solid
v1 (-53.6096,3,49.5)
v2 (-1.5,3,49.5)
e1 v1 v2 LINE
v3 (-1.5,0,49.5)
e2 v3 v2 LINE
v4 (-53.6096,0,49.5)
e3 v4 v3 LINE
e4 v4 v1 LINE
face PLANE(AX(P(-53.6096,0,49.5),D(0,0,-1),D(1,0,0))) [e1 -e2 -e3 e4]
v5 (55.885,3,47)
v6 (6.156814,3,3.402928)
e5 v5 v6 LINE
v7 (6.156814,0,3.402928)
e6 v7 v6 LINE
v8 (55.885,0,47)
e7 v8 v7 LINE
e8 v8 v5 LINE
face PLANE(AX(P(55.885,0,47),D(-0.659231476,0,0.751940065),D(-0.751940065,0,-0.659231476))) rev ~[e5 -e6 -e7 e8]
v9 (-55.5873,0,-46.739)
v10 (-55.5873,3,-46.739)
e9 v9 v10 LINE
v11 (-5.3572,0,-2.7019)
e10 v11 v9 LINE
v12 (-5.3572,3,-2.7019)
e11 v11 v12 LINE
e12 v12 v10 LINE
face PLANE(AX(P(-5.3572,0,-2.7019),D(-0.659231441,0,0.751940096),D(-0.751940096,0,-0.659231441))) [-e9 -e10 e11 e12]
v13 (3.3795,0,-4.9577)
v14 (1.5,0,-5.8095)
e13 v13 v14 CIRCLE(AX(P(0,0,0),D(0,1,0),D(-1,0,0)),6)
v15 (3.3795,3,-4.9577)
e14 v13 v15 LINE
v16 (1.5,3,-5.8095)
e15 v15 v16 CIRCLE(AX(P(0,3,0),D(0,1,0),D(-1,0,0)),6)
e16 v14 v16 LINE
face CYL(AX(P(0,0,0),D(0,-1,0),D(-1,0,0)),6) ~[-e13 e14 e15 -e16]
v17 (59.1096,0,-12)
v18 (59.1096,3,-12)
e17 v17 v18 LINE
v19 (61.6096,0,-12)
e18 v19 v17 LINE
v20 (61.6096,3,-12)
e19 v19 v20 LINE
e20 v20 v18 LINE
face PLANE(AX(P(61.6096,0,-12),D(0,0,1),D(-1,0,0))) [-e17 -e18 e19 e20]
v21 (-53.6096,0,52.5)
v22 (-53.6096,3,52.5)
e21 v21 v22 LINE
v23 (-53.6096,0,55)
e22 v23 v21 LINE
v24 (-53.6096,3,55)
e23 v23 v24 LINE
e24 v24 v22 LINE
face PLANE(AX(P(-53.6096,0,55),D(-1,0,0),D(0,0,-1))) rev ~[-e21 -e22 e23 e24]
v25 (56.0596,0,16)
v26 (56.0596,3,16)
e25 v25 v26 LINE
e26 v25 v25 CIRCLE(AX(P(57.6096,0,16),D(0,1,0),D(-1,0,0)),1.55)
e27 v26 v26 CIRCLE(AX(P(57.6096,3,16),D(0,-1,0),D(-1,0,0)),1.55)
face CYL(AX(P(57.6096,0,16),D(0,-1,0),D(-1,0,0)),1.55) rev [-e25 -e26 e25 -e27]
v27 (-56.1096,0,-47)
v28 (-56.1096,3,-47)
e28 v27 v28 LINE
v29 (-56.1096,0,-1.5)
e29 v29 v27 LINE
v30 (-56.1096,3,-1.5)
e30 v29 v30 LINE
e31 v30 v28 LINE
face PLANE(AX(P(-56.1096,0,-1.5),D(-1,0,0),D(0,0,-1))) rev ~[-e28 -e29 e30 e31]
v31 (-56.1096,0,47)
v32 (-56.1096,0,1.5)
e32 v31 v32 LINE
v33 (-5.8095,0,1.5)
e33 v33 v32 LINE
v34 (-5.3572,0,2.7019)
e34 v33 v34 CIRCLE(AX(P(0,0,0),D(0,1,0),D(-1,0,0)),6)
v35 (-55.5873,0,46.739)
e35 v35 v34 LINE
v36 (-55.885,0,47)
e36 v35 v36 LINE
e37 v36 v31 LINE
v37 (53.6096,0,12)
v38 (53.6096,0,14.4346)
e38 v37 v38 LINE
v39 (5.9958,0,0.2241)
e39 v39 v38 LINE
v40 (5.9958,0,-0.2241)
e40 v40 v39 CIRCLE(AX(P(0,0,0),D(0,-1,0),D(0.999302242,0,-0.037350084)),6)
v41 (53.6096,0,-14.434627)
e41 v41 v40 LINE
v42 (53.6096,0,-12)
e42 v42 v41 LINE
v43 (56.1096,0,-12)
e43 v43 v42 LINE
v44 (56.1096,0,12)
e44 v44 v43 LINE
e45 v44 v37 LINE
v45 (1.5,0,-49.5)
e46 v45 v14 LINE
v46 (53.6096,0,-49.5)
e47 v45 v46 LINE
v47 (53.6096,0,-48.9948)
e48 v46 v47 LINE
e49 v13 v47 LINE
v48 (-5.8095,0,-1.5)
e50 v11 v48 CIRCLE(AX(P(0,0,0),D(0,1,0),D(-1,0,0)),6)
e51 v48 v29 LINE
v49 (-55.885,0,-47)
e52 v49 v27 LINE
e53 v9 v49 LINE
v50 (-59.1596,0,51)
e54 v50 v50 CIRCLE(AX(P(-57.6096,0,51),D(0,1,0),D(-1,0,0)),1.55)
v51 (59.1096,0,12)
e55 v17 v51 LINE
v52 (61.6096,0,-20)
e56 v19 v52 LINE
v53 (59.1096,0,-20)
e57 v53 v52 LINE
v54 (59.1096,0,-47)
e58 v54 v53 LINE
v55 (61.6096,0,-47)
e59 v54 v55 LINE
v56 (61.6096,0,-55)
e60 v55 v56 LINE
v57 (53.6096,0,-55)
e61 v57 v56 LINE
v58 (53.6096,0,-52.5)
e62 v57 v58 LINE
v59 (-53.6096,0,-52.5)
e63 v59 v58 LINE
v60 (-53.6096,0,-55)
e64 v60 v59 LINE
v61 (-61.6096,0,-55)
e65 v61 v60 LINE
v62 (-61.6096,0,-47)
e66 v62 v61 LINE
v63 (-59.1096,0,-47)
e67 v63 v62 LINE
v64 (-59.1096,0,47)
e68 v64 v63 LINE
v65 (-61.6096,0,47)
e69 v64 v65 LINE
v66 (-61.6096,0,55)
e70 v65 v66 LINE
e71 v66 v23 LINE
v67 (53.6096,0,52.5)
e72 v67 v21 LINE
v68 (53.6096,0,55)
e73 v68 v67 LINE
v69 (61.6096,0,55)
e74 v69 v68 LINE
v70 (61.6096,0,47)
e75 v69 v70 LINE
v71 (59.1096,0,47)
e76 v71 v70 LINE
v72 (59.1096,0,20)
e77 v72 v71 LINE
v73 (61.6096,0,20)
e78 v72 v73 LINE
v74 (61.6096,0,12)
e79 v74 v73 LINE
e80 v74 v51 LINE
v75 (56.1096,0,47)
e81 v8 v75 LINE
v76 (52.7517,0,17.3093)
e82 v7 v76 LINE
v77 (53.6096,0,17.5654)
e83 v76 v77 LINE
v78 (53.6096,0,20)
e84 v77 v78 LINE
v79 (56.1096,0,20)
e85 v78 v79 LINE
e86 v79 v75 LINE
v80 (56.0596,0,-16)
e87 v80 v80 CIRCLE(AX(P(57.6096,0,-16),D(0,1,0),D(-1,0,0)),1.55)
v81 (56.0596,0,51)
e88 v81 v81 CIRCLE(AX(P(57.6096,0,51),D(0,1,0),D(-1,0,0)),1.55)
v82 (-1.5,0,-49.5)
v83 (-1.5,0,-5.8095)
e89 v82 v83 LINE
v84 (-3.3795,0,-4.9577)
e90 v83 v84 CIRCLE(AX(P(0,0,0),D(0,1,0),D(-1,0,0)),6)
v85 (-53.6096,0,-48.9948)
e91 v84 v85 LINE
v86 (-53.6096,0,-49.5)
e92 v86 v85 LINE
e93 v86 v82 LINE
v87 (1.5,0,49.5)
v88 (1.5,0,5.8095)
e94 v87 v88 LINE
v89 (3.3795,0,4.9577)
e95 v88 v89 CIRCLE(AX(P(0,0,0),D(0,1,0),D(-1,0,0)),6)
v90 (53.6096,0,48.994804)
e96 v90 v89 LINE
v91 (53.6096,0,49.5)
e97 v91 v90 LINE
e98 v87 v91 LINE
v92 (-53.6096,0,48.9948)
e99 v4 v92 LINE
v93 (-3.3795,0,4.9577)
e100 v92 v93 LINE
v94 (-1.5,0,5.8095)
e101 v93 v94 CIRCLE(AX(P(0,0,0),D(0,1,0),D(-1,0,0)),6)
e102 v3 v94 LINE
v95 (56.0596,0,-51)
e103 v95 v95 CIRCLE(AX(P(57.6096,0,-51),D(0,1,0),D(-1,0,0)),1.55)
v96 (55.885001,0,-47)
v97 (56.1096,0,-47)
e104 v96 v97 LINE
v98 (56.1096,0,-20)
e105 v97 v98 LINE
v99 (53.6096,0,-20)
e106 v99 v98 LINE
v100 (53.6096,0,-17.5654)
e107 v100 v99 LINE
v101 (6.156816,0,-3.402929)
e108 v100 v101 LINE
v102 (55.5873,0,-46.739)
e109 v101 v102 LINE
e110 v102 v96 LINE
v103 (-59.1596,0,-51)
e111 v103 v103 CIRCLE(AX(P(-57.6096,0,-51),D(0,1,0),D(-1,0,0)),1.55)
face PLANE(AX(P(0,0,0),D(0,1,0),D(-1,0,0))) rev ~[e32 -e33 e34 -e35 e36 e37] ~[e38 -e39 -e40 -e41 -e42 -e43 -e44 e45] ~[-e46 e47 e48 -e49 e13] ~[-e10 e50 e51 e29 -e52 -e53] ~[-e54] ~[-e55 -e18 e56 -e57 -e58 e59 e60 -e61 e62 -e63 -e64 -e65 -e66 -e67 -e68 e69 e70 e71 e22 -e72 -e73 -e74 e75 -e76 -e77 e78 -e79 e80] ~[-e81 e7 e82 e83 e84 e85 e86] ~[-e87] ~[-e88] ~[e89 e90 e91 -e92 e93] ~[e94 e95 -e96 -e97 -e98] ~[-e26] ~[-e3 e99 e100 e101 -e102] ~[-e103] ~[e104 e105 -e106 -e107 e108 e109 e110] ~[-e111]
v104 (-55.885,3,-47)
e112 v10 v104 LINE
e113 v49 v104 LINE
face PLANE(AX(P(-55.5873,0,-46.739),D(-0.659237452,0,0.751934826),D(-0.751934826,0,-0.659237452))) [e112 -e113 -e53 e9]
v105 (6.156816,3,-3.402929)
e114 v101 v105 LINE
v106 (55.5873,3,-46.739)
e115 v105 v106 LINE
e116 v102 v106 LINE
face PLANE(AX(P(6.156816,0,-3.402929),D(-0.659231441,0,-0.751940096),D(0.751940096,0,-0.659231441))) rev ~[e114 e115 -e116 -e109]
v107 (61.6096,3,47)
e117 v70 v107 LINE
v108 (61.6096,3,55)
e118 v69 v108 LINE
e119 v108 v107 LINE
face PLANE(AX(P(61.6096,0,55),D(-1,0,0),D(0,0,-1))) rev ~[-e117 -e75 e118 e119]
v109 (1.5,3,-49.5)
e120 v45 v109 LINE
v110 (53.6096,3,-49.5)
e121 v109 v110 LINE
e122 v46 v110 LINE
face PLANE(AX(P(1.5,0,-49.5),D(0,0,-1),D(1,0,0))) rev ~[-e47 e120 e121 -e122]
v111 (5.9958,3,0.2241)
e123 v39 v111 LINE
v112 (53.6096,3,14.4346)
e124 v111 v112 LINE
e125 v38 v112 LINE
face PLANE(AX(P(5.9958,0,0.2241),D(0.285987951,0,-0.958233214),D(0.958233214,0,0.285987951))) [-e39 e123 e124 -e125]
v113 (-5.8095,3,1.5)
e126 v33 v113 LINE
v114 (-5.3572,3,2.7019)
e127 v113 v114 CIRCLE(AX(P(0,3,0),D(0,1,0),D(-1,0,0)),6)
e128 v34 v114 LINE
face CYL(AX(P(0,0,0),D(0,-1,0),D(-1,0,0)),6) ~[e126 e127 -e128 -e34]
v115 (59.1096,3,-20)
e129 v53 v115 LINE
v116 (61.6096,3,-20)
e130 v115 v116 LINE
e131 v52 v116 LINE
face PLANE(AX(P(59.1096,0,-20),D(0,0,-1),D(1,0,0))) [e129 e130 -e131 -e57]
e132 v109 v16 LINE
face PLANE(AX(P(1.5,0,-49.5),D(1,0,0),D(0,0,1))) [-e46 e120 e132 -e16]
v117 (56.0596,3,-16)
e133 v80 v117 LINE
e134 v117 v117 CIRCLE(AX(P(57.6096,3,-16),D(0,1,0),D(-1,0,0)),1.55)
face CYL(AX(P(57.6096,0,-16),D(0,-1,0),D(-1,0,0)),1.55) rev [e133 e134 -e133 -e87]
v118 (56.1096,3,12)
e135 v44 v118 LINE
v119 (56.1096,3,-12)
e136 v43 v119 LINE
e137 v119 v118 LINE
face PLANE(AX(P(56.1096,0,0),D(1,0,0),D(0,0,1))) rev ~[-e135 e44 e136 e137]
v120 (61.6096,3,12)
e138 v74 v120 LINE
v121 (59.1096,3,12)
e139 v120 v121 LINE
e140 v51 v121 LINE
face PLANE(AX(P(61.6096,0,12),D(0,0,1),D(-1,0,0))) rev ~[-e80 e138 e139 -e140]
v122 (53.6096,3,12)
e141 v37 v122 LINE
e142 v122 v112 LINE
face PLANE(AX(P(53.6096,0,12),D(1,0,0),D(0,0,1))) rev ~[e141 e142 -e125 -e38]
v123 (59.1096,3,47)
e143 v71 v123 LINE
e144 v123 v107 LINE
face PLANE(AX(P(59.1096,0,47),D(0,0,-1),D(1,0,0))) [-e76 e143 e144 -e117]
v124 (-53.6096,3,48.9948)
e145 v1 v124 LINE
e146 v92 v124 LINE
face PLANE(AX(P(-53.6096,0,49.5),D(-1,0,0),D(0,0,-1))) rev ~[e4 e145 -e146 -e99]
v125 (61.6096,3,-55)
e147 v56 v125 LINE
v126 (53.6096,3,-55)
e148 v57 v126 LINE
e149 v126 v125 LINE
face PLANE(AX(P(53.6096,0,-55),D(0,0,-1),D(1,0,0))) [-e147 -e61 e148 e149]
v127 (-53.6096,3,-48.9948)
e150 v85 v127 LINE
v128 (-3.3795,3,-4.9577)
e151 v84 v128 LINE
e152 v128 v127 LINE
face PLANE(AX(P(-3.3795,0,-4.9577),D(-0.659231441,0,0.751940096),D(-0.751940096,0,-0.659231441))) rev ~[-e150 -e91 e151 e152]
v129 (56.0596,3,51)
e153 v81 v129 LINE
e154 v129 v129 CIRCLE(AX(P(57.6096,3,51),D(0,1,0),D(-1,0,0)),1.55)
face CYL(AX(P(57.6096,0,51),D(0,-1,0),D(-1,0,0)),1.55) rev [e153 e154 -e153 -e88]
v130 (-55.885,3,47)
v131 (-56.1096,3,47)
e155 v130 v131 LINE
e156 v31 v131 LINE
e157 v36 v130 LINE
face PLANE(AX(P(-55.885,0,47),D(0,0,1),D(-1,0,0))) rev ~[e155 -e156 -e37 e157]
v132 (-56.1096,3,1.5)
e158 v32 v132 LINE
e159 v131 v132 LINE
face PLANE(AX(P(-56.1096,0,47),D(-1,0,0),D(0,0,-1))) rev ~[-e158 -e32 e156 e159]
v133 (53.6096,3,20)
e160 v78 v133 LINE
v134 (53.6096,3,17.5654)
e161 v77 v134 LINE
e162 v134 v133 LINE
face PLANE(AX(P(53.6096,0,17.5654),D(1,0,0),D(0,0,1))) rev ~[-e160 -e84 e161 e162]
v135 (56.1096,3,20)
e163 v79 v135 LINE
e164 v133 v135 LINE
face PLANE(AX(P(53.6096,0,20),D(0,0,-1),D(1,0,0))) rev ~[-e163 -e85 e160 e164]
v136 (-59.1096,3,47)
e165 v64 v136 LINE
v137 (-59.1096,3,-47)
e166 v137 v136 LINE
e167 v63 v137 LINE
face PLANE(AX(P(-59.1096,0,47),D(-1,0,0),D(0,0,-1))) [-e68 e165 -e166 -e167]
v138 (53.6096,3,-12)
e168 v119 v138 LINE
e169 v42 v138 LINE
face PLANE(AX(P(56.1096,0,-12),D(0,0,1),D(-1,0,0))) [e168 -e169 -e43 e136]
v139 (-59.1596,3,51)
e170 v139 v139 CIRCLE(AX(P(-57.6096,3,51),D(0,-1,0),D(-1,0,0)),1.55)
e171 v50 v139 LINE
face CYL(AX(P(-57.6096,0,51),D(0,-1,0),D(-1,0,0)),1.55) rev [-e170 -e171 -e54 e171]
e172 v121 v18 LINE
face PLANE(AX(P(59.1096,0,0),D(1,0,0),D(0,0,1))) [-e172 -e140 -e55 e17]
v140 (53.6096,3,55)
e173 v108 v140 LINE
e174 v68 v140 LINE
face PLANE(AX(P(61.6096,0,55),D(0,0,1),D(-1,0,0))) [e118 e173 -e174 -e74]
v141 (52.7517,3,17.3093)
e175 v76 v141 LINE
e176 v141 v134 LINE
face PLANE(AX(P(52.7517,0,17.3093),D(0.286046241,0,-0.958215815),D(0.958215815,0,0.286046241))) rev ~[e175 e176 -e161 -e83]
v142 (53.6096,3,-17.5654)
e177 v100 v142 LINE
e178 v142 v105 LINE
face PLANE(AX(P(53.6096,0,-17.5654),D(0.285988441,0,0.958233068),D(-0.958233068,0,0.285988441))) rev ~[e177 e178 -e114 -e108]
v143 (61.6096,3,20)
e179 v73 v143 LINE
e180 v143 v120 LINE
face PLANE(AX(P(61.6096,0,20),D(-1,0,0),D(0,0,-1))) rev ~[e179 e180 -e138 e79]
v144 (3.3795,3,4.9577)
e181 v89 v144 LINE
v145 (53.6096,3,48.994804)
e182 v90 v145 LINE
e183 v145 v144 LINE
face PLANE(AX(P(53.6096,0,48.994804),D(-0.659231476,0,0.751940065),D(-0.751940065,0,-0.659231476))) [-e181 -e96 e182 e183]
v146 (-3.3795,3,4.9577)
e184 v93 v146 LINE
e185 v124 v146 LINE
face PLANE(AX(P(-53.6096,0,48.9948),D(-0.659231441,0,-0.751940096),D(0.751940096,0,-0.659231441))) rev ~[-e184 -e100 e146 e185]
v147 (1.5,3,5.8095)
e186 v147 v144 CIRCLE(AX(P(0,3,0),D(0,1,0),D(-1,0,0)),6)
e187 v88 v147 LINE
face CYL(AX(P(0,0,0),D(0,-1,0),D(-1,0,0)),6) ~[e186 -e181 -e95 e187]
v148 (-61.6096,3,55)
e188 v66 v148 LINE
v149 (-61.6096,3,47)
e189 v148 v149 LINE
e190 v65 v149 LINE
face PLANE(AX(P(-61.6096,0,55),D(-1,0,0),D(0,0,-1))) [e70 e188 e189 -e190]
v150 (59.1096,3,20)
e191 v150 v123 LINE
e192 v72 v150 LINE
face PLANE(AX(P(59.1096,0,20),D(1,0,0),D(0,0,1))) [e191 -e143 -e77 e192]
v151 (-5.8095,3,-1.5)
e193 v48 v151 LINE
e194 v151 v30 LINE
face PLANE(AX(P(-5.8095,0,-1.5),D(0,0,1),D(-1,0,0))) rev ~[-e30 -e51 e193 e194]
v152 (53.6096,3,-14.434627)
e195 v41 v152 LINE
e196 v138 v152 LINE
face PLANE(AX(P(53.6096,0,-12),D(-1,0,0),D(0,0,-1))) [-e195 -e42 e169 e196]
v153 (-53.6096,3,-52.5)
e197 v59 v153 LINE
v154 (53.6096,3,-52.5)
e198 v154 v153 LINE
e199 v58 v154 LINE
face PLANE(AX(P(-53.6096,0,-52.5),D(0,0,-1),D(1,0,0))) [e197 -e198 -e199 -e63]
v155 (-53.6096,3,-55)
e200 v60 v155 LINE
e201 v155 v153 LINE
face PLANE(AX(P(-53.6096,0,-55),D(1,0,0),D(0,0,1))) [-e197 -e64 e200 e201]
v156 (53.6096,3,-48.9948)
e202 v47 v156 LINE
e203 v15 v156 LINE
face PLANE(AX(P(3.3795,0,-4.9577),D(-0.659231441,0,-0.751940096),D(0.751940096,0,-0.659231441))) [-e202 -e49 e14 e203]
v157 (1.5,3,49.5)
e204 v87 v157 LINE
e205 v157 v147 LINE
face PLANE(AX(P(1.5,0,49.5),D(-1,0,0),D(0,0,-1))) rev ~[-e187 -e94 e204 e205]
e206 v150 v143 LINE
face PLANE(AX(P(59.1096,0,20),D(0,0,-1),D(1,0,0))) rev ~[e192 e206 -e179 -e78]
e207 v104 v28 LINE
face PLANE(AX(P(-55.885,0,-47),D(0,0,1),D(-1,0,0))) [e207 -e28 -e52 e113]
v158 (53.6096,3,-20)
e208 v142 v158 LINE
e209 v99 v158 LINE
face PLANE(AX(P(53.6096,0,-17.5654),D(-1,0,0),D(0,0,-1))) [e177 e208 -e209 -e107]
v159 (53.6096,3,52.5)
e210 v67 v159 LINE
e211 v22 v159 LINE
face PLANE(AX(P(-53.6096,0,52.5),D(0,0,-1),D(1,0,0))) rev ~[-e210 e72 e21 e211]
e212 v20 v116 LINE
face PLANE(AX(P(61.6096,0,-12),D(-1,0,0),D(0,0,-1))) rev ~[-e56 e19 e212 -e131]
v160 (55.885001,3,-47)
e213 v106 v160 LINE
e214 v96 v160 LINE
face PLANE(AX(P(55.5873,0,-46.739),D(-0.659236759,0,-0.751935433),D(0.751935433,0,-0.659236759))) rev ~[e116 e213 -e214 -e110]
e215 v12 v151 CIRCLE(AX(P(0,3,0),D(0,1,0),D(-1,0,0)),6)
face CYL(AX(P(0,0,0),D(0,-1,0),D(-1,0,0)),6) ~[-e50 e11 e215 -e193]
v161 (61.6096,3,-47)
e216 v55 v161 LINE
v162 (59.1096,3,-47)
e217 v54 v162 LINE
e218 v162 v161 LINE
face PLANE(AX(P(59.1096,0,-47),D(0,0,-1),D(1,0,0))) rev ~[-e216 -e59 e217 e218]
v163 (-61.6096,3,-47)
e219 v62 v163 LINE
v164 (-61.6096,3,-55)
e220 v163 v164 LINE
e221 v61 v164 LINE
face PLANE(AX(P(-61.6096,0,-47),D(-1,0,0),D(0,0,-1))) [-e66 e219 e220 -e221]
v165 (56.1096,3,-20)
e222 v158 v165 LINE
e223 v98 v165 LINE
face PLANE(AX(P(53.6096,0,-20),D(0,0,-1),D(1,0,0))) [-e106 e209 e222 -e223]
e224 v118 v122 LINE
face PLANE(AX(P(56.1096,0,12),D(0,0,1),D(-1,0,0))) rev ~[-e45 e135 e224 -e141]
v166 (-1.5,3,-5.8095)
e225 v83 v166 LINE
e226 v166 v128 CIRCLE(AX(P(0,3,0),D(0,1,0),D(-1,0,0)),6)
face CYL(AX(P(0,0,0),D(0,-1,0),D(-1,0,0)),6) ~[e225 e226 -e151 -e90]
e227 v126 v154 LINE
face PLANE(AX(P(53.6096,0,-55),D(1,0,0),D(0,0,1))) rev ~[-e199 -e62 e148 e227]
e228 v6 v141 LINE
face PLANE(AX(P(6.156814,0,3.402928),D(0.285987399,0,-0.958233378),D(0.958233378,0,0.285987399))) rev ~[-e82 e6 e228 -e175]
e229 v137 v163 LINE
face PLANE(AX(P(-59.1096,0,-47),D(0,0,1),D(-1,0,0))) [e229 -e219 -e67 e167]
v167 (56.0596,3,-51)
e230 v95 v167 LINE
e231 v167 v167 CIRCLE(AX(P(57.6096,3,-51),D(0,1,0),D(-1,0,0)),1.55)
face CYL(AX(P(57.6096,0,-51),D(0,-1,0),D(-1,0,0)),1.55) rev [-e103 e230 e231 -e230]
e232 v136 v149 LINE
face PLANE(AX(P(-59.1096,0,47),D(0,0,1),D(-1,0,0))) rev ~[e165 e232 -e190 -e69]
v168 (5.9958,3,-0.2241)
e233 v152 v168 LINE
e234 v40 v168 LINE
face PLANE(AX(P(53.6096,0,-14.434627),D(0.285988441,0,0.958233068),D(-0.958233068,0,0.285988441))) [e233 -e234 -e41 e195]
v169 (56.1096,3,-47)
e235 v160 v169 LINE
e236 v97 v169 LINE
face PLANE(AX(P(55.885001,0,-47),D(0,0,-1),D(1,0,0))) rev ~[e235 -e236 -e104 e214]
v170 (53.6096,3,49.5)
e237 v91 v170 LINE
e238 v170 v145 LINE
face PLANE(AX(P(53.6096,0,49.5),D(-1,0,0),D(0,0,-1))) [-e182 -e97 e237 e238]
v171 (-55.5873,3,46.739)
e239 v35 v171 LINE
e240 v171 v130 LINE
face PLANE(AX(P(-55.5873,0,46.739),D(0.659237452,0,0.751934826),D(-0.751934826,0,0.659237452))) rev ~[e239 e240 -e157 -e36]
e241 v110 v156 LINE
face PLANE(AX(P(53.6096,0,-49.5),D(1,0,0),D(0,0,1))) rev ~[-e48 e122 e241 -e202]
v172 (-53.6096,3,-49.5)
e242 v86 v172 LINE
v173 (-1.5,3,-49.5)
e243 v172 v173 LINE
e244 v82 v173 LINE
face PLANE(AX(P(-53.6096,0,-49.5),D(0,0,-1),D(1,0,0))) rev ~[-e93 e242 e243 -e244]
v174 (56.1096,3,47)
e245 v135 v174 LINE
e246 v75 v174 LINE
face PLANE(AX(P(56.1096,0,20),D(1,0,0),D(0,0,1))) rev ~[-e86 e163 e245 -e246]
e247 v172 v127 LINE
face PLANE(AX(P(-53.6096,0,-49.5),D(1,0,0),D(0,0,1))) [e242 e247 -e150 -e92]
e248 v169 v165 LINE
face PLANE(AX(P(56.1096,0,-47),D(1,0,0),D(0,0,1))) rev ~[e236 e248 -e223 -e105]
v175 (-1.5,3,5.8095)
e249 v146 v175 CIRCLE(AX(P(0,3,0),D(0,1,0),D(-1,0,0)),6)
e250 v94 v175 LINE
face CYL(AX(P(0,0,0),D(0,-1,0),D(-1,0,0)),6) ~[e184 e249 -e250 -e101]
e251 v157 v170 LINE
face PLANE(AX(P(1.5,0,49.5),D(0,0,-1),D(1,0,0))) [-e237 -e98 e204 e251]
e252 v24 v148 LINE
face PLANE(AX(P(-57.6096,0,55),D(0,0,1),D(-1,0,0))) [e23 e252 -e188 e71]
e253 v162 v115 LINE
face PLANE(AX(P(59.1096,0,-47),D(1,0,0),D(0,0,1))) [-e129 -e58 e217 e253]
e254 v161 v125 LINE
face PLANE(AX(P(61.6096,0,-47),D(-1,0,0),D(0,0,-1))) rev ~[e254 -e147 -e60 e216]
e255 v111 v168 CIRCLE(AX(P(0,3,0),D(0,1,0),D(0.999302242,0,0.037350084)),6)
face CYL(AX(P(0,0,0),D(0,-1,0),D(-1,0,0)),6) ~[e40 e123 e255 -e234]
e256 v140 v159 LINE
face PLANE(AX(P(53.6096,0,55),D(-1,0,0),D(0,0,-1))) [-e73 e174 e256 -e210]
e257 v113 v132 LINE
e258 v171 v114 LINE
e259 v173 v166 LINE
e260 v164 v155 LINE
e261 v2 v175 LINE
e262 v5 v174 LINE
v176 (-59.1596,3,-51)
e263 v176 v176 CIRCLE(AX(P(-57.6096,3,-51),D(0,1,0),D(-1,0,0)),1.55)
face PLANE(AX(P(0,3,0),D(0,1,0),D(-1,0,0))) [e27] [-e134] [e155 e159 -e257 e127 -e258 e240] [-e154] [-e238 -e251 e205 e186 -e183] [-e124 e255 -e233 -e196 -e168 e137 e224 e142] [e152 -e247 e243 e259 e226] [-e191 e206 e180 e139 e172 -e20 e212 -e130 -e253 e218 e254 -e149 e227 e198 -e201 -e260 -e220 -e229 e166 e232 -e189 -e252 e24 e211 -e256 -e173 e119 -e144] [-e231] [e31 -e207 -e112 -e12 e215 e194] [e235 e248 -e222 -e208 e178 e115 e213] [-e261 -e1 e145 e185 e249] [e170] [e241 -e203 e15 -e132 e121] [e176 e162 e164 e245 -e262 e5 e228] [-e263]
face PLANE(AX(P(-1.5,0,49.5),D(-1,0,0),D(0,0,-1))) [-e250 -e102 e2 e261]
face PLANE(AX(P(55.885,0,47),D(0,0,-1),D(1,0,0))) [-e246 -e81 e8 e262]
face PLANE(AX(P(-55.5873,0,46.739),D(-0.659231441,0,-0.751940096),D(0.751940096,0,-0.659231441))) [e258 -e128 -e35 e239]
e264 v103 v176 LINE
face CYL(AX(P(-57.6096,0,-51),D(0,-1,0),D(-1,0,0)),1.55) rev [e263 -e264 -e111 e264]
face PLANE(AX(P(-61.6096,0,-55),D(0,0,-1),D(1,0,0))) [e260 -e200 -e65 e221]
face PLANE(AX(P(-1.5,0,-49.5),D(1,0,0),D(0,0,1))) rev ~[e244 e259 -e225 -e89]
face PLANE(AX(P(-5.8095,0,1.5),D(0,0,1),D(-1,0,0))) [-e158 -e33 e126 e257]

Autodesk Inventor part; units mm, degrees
ref_plane "YZ Plane" through (0, 0, 0) normal (1, 0, 0) x (0, 1, 0)
ref_plane "XZ Plane" through (0, 0, 0) normal (0, 1, 0) x (-1, 0, 0)
ref_plane "XY Plane" through (0, 0, 0) normal (0, 0, 1) x (1, 0, 0)
sketch "Sketch1" plane through (0, 0, 0) normal (0, 1, 0) x (-1, 0, 0)
  line L0 (75, 59) -> (-75, 59)
  line L1 (-75, 59) -> (-75, -59)
  line L2 (-75, -59) -> (75, -59)
  line L3 (75, -59) -> (75, 59)
  line L4 (75, 59) -> (-75, -59) construction
  line L5 (-75, 59) -> (75, -59) construction
  line L6 (62.0096, 59) -> (62.0096, -65)
  line L7 (105, 0) -> (-105, 0) projected
  line L8 (0, -90) -> (0, 85) projected
  line L9 (-62.0096, 59) -> (-62.0096, -65)
  line L10 (61.6096, 59) -> (61.6096, -59)
  line L11 (-61.6096, 59) -> (-61.6096, -59)
  line L12 (-71, 55) -> (71, 55)
  line L13 (71, 55) -> (71, -55)
  line L14 (71, -55) -> (-71, -55)
  line L15 (-71, -55) -> (-71, 55)
  line L16 (61.6096, 55) -> (53.6096, 55)
  line L17 (53.6096, 55) -> (53.6096, 47)
  line L18 (53.6096, 47) -> (61.6096, 47)
  line L19 (61.6096, 47) -> (61.6096, 55)
  line L20 (61.6096, -55) -> (53.6096, -55)
  line L21 (53.6096, -55) -> (53.6096, -47)
  line L22 (53.6096, -47) -> (61.6096, -47)
  line L23 (-61.6096, 55) -> (-53.6096, 55)
  line L24 (-53.6096, 55) -> (-53.6096, 47)
  line L25 (-53.6096, 47) -> (-61.6096, 47)
  line L26 (-61.6096, 47) -> (-61.6096, 55)
  line L27 (-53.6096, -55) -> (-53.6096, -47)
  line L28 (-53.6096, -47) -> (-61.6096, -47)
  line L29 (-61.6096, -55) -> (-53.6096, -55)
  line L30 (-61.6096, 12) -> (-53.6096, 12)
  line L31 (-53.6096, 12) -> (-53.6096, 20)
  line L32 (-53.6096, 20) -> (-61.6096, 20)
  line L33 (-61.6096, 20) -> (-61.6096, 12)
  line L34 (-61.6096, -12) -> (-53.6096, -12)
  line L35 (-53.6096, -12) -> (-53.6096, -20)
  line L36 (-53.6096, -20) -> (-61.6096, -20)
  circle A0 centre (57.6096, 51) radius 1.55
  line L37 (61.6096, 51) -> (53.6096, 51)
  line L38 (57.6096, 55) -> (57.6096, 47)
  circle A1 centre (57.6096, -51) radius 1.55
  circle A2 centre (-57.6096, 51) radius 1.55
  circle A3 centre (-57.6096, -51) radius 1.55
  line L39 (-53.6096, 16) -> (-61.6096, 16)
  line L40 (-57.6096, 20) -> (-57.6096, 12)
  circle A4 centre (-57.6096, 16) radius 1.55
  circle A5 centre (-57.6096, -16) radius 1.55
  line L41 (53.6096, 51) -> (-53.6096, 51)
  line L42 (57.6096, 47) -> (57.6096, -47)
  line L43 (53.6096, -51) -> (-53.6096, -51)
  line L44 (-57.6096, -47) -> (-57.6096, -20)
  line L45 (-57.6096, -12) -> (-57.6096, 12)
  line L46 (-57.6096, 20) -> (-57.6096, 47)
  line L47 (53.6096, 47) -> (-53.6096, -47)
  line L48 (-53.6096, 47) -> (53.6096, -47)
  line L49 (0, 0) -> (57.6096, 0)
  line L50 (0, 0) -> (-57.6096, 0)
  line L51 (0, 0) -> (-53.6096, 16)
  line L52 (0, 0) -> (-53.6096, -16)
  circle A6 centre (0, 0) radius 6
  line L53 (53.6096, 48.9948) -> (3.3795, 4.9577)
  line L54 (53.6096, 52.5) -> (-53.6096, 52.5)
  line L55 (59.1096, 47) -> (59.1096, -47)
  line L56 (53.6096, -52.5) -> (-53.6096, -52.5)
  line L57 (-59.1096, -47) -> (-59.1096, -20)
  line L58 (-59.1096, -12) -> (-59.1096, 12)
  line L59 (-59.1096, 20) -> (-59.1096, 47)
  line L60 (-55.885, 47) -> (-5.3572, 2.7019)
  line L61 (-5.9958, 0.2241) -> (-53.6096, 14.4346)
  line L62 (-53.6096, -17.5654) -> (-5.1378, -3.0988)
  line L63 (-3.3795, -4.9577) -> (-53.6096, -48.9948)
  line L64 (5.8095, -1.5) -> (57.6096, -1.5)
  line L65 (56.1096, 47) -> (56.1096, -47)
  line L66 (53.6096, 49.5) -> (-53.6096, 49.5)
  line L67 (55.5873, 46.739) -> (5.3572, 2.7019)
  line L68 (5.8095, 1.5) -> (57.6096, 1.5)
  line L69 (-53.9073, 49.2558) -> (-3.3795, 4.9577)
  line L70 (-5.1378, 3.0988) -> (-52.7517, 17.3093)
  line L71 (-5.3572, -2.7019) -> (-55.5873, -46.739)
  line L72 (53.6096, -49.5) -> (-53.6096, -49.5)
  line L73 (-56.1096, -47) -> (-56.1096, -20)
  line L74 (-56.1096, -12) -> (-56.1096, 12)
  line L75 (-56.1096, 20) -> (-56.1096, 47)
  line L76 (-54.4676, -14.6907) -> (-5.9958, -0.2241)
  line L77 (3.3795, -4.9577) -> (53.6096, -48.9948)
  line L78 (5.3572, -2.7019) -> (55.5873, -46.739)
  line L79 (1.5, 49.5) -> (1.5, 5.8095)
  line L80 (-1.5, 49.5) -> (-1.5, 5.8095)
  line L81 (1.5, -49.5) -> (1.5, -5.8095)
  line L82 (-1.5, -49.5) -> (-1.5, -5.8095)
  line L83 (-52.7517, 17.3093) -> (-53.6096, 17.5654)
  line L84 (55.5873, -46.739) -> (55.885, -47)
  line L85 (55.5873, 46.739) -> (55.885, 47)
  line L86 (-55.5873, -46.739) -> (-58.8433, -49.5936)
  point P0 (-53.6096, 55)
  point P1 (-61.6096, 55)
  point P2 (-61.6096, 47)
  point P3 (-61.6096, 0)
  point P4 (-71, 0)
  point P5 (53.6096, 55)
  point P6 (4.5116, -3.9554)
  point P7 (56.1096, -1.5)
  point P8 (-4.5116, -3.9554)
  point P9 (-56.1096, -20)
  point P10 (1.5, -49.5)
  point P11 (1.5, -5.8095)
  point P12 (-1.5, -5.8095)
  point P13 (-1.5, -49.5)
  point P14 (-1.5, 5.8095)
  point P15 (-3.3795, 4.9577)
  point P16 (-53.6096, 48.9948)
  point P17 (-1.5, 49.5)
  point P18 (56.1096, 1.5)
  point P19 (4.5116, 3.9554)
  point P20 (-53.6096, -14.4346)
  point P21 (-5.7494, 1.7159)
  point P22 (-61.6096, -47)
  point P23 (-61.6096, -55)
  point P24 (-53.6096, -55)
  point P25 (53.6096, -55)
  point P26 (61.6096, -55)
  point P27 (61.6096, -47)
  point P28 (61.6096, 47)
  point P29 (5.3572, -2.7019)
  point P30 (-55.885, -47)
  point P31 (-6.1568, -3.4029)
  point P32 (5.3572, 2.7019)
  point P33 (-6.1568, 3.4029)
  dimension "d13" = 12
  dimension "d0" = 150
  dimension "d1" = 118
  dimension "d2" = 12.9904
  dimension "d3" = 0.4
  dimension "d4" = 4
  dimension "d5" = 8
  dimension "d6" = 8
  dimension "d7" = 8
  dimension "d8" = 8
  dimension "d9" = 12
  dimension "d10" = 3.1
  dimension "d11" = 3.1
  dimension "d14" = 3
  dimension "d15" = 3
  dimension "d16" = 3
  dimension "d17" = 3
  dimension "d18" = 3
  dimension "d19" = 3
  dimension "d20" = 3
  dimension "d21" = 3
  dimension "d22" = 3
  dimension "d23" = 3
  dimension "d24" = 3
  dimension "d25" = 3
extrude "Extrusion1" add sketch "Sketch1" along normal blind 3 contours L10 L37 A0 L38 L12 | L10 L18 L38 A0 L37 | L38 A0 L37 L17 L12 | L12 L24 L25 L11 | L54 L17 L41 L8 | L8 L41 L24 L54 | L14 L21 L22 L10 | L55 L22 L42 L7 | L7 L42 L18 L55 | L41 L17 L66 L8 | L8 L66 L24 L41 | L38 L18 L17 L37 A0 | L42 L64 L65 L7 | L7 L65 L68 L42 | L32 L40 A4 L39 L11 | L25 L46 L32 L59 | L66 L79 A6 L8 | L8 A6 L80 L66 | L42 L68 L65 L18 | L56 L8 L43 L21 | L65 L64 A6 L7 | L7 A6 L68 L65 | L42 L22 L65 L64 | L11 L28 L27 L14 | L56 L27 L43 L8 | L39 A4 L40 L30 L11 | L25 L75 L32 L46 | A6 L47 L8 | L8 L48 A6 | L43 L8 L72 L21 | A6 L48 L7 | L7 L47 A6 | L43 L27 L72 L8 | L58 L30 L45 L7 | L7 L45 L34 L58 | L34 L35 L36 L11 | L32 L31 L39 A4 L40 | L52 A6 L7 | L48 A6 L8 | L8 A6 L47 | L51 A6 L48 | L7 A6 L51 | L47 A6 L52 | L17 L47 A6 L53 | L69 A6 L48 L24 | L85 L67 A6 L47 L18 | L22 L48 A6 L78 L84 | L57 L36 L44 L28 | L72 L82 A6 L8 | L8 A6 L81 L72 | L45 L30 L74 L7 | L7 L74 L34 L45 | A4 L39 L31 L30 L40 | L25 L48 A6 L70 L60 | A6 L63 L27 L47 | L47 L28 L86 L71 L62 A6 | L48 L21 L77 A6 | A6 L61 L31 L51 | L51 L31 L83 L70 L60 A6 | A6 L71 L62 L35 L52 | L52 L35 L76 A6 | L44 L36 L73 L28 | L70 A6 L60 | L62 L71 A6
equation "\"d0\" = BodyLength"
equation "\"d1\" = BodyWidth"
equation "\"d2\" = 0.433013 * BodyHeight"
equation "\"d4\" = SideThickness"
equation "\"d5\" = M3ScrewInsertBrim"
equation "\"d6\" = M3ScrewInsertBrim"
equation "\"d7\" = M3ScrewInsertBrim"
equation "\"d8\" = M3ScrewInsertBrim"
equation "\"d10\" = M3ScrewDia"
equation "\"d11\" = M3ScrewDia"
equation "\"SideThickness_1\" = 4"
equation "\"M3ScrewInsertBrim_1\" = 8"
equation "\"M3ScrewDia_1\" = 3.1"
equation "\"BodyLength\" = 150"
equation "\"BodyWidth\" = 118"
equation "\"BodyHeight\" = 30"
equation "\"SideThickness\" = 4"
equation "\"M3ScrewInsertBrim\" = 8"
equation "\"M3ScrewDia\" = 3.1"
properties part number "HexScrewGuideV2"
